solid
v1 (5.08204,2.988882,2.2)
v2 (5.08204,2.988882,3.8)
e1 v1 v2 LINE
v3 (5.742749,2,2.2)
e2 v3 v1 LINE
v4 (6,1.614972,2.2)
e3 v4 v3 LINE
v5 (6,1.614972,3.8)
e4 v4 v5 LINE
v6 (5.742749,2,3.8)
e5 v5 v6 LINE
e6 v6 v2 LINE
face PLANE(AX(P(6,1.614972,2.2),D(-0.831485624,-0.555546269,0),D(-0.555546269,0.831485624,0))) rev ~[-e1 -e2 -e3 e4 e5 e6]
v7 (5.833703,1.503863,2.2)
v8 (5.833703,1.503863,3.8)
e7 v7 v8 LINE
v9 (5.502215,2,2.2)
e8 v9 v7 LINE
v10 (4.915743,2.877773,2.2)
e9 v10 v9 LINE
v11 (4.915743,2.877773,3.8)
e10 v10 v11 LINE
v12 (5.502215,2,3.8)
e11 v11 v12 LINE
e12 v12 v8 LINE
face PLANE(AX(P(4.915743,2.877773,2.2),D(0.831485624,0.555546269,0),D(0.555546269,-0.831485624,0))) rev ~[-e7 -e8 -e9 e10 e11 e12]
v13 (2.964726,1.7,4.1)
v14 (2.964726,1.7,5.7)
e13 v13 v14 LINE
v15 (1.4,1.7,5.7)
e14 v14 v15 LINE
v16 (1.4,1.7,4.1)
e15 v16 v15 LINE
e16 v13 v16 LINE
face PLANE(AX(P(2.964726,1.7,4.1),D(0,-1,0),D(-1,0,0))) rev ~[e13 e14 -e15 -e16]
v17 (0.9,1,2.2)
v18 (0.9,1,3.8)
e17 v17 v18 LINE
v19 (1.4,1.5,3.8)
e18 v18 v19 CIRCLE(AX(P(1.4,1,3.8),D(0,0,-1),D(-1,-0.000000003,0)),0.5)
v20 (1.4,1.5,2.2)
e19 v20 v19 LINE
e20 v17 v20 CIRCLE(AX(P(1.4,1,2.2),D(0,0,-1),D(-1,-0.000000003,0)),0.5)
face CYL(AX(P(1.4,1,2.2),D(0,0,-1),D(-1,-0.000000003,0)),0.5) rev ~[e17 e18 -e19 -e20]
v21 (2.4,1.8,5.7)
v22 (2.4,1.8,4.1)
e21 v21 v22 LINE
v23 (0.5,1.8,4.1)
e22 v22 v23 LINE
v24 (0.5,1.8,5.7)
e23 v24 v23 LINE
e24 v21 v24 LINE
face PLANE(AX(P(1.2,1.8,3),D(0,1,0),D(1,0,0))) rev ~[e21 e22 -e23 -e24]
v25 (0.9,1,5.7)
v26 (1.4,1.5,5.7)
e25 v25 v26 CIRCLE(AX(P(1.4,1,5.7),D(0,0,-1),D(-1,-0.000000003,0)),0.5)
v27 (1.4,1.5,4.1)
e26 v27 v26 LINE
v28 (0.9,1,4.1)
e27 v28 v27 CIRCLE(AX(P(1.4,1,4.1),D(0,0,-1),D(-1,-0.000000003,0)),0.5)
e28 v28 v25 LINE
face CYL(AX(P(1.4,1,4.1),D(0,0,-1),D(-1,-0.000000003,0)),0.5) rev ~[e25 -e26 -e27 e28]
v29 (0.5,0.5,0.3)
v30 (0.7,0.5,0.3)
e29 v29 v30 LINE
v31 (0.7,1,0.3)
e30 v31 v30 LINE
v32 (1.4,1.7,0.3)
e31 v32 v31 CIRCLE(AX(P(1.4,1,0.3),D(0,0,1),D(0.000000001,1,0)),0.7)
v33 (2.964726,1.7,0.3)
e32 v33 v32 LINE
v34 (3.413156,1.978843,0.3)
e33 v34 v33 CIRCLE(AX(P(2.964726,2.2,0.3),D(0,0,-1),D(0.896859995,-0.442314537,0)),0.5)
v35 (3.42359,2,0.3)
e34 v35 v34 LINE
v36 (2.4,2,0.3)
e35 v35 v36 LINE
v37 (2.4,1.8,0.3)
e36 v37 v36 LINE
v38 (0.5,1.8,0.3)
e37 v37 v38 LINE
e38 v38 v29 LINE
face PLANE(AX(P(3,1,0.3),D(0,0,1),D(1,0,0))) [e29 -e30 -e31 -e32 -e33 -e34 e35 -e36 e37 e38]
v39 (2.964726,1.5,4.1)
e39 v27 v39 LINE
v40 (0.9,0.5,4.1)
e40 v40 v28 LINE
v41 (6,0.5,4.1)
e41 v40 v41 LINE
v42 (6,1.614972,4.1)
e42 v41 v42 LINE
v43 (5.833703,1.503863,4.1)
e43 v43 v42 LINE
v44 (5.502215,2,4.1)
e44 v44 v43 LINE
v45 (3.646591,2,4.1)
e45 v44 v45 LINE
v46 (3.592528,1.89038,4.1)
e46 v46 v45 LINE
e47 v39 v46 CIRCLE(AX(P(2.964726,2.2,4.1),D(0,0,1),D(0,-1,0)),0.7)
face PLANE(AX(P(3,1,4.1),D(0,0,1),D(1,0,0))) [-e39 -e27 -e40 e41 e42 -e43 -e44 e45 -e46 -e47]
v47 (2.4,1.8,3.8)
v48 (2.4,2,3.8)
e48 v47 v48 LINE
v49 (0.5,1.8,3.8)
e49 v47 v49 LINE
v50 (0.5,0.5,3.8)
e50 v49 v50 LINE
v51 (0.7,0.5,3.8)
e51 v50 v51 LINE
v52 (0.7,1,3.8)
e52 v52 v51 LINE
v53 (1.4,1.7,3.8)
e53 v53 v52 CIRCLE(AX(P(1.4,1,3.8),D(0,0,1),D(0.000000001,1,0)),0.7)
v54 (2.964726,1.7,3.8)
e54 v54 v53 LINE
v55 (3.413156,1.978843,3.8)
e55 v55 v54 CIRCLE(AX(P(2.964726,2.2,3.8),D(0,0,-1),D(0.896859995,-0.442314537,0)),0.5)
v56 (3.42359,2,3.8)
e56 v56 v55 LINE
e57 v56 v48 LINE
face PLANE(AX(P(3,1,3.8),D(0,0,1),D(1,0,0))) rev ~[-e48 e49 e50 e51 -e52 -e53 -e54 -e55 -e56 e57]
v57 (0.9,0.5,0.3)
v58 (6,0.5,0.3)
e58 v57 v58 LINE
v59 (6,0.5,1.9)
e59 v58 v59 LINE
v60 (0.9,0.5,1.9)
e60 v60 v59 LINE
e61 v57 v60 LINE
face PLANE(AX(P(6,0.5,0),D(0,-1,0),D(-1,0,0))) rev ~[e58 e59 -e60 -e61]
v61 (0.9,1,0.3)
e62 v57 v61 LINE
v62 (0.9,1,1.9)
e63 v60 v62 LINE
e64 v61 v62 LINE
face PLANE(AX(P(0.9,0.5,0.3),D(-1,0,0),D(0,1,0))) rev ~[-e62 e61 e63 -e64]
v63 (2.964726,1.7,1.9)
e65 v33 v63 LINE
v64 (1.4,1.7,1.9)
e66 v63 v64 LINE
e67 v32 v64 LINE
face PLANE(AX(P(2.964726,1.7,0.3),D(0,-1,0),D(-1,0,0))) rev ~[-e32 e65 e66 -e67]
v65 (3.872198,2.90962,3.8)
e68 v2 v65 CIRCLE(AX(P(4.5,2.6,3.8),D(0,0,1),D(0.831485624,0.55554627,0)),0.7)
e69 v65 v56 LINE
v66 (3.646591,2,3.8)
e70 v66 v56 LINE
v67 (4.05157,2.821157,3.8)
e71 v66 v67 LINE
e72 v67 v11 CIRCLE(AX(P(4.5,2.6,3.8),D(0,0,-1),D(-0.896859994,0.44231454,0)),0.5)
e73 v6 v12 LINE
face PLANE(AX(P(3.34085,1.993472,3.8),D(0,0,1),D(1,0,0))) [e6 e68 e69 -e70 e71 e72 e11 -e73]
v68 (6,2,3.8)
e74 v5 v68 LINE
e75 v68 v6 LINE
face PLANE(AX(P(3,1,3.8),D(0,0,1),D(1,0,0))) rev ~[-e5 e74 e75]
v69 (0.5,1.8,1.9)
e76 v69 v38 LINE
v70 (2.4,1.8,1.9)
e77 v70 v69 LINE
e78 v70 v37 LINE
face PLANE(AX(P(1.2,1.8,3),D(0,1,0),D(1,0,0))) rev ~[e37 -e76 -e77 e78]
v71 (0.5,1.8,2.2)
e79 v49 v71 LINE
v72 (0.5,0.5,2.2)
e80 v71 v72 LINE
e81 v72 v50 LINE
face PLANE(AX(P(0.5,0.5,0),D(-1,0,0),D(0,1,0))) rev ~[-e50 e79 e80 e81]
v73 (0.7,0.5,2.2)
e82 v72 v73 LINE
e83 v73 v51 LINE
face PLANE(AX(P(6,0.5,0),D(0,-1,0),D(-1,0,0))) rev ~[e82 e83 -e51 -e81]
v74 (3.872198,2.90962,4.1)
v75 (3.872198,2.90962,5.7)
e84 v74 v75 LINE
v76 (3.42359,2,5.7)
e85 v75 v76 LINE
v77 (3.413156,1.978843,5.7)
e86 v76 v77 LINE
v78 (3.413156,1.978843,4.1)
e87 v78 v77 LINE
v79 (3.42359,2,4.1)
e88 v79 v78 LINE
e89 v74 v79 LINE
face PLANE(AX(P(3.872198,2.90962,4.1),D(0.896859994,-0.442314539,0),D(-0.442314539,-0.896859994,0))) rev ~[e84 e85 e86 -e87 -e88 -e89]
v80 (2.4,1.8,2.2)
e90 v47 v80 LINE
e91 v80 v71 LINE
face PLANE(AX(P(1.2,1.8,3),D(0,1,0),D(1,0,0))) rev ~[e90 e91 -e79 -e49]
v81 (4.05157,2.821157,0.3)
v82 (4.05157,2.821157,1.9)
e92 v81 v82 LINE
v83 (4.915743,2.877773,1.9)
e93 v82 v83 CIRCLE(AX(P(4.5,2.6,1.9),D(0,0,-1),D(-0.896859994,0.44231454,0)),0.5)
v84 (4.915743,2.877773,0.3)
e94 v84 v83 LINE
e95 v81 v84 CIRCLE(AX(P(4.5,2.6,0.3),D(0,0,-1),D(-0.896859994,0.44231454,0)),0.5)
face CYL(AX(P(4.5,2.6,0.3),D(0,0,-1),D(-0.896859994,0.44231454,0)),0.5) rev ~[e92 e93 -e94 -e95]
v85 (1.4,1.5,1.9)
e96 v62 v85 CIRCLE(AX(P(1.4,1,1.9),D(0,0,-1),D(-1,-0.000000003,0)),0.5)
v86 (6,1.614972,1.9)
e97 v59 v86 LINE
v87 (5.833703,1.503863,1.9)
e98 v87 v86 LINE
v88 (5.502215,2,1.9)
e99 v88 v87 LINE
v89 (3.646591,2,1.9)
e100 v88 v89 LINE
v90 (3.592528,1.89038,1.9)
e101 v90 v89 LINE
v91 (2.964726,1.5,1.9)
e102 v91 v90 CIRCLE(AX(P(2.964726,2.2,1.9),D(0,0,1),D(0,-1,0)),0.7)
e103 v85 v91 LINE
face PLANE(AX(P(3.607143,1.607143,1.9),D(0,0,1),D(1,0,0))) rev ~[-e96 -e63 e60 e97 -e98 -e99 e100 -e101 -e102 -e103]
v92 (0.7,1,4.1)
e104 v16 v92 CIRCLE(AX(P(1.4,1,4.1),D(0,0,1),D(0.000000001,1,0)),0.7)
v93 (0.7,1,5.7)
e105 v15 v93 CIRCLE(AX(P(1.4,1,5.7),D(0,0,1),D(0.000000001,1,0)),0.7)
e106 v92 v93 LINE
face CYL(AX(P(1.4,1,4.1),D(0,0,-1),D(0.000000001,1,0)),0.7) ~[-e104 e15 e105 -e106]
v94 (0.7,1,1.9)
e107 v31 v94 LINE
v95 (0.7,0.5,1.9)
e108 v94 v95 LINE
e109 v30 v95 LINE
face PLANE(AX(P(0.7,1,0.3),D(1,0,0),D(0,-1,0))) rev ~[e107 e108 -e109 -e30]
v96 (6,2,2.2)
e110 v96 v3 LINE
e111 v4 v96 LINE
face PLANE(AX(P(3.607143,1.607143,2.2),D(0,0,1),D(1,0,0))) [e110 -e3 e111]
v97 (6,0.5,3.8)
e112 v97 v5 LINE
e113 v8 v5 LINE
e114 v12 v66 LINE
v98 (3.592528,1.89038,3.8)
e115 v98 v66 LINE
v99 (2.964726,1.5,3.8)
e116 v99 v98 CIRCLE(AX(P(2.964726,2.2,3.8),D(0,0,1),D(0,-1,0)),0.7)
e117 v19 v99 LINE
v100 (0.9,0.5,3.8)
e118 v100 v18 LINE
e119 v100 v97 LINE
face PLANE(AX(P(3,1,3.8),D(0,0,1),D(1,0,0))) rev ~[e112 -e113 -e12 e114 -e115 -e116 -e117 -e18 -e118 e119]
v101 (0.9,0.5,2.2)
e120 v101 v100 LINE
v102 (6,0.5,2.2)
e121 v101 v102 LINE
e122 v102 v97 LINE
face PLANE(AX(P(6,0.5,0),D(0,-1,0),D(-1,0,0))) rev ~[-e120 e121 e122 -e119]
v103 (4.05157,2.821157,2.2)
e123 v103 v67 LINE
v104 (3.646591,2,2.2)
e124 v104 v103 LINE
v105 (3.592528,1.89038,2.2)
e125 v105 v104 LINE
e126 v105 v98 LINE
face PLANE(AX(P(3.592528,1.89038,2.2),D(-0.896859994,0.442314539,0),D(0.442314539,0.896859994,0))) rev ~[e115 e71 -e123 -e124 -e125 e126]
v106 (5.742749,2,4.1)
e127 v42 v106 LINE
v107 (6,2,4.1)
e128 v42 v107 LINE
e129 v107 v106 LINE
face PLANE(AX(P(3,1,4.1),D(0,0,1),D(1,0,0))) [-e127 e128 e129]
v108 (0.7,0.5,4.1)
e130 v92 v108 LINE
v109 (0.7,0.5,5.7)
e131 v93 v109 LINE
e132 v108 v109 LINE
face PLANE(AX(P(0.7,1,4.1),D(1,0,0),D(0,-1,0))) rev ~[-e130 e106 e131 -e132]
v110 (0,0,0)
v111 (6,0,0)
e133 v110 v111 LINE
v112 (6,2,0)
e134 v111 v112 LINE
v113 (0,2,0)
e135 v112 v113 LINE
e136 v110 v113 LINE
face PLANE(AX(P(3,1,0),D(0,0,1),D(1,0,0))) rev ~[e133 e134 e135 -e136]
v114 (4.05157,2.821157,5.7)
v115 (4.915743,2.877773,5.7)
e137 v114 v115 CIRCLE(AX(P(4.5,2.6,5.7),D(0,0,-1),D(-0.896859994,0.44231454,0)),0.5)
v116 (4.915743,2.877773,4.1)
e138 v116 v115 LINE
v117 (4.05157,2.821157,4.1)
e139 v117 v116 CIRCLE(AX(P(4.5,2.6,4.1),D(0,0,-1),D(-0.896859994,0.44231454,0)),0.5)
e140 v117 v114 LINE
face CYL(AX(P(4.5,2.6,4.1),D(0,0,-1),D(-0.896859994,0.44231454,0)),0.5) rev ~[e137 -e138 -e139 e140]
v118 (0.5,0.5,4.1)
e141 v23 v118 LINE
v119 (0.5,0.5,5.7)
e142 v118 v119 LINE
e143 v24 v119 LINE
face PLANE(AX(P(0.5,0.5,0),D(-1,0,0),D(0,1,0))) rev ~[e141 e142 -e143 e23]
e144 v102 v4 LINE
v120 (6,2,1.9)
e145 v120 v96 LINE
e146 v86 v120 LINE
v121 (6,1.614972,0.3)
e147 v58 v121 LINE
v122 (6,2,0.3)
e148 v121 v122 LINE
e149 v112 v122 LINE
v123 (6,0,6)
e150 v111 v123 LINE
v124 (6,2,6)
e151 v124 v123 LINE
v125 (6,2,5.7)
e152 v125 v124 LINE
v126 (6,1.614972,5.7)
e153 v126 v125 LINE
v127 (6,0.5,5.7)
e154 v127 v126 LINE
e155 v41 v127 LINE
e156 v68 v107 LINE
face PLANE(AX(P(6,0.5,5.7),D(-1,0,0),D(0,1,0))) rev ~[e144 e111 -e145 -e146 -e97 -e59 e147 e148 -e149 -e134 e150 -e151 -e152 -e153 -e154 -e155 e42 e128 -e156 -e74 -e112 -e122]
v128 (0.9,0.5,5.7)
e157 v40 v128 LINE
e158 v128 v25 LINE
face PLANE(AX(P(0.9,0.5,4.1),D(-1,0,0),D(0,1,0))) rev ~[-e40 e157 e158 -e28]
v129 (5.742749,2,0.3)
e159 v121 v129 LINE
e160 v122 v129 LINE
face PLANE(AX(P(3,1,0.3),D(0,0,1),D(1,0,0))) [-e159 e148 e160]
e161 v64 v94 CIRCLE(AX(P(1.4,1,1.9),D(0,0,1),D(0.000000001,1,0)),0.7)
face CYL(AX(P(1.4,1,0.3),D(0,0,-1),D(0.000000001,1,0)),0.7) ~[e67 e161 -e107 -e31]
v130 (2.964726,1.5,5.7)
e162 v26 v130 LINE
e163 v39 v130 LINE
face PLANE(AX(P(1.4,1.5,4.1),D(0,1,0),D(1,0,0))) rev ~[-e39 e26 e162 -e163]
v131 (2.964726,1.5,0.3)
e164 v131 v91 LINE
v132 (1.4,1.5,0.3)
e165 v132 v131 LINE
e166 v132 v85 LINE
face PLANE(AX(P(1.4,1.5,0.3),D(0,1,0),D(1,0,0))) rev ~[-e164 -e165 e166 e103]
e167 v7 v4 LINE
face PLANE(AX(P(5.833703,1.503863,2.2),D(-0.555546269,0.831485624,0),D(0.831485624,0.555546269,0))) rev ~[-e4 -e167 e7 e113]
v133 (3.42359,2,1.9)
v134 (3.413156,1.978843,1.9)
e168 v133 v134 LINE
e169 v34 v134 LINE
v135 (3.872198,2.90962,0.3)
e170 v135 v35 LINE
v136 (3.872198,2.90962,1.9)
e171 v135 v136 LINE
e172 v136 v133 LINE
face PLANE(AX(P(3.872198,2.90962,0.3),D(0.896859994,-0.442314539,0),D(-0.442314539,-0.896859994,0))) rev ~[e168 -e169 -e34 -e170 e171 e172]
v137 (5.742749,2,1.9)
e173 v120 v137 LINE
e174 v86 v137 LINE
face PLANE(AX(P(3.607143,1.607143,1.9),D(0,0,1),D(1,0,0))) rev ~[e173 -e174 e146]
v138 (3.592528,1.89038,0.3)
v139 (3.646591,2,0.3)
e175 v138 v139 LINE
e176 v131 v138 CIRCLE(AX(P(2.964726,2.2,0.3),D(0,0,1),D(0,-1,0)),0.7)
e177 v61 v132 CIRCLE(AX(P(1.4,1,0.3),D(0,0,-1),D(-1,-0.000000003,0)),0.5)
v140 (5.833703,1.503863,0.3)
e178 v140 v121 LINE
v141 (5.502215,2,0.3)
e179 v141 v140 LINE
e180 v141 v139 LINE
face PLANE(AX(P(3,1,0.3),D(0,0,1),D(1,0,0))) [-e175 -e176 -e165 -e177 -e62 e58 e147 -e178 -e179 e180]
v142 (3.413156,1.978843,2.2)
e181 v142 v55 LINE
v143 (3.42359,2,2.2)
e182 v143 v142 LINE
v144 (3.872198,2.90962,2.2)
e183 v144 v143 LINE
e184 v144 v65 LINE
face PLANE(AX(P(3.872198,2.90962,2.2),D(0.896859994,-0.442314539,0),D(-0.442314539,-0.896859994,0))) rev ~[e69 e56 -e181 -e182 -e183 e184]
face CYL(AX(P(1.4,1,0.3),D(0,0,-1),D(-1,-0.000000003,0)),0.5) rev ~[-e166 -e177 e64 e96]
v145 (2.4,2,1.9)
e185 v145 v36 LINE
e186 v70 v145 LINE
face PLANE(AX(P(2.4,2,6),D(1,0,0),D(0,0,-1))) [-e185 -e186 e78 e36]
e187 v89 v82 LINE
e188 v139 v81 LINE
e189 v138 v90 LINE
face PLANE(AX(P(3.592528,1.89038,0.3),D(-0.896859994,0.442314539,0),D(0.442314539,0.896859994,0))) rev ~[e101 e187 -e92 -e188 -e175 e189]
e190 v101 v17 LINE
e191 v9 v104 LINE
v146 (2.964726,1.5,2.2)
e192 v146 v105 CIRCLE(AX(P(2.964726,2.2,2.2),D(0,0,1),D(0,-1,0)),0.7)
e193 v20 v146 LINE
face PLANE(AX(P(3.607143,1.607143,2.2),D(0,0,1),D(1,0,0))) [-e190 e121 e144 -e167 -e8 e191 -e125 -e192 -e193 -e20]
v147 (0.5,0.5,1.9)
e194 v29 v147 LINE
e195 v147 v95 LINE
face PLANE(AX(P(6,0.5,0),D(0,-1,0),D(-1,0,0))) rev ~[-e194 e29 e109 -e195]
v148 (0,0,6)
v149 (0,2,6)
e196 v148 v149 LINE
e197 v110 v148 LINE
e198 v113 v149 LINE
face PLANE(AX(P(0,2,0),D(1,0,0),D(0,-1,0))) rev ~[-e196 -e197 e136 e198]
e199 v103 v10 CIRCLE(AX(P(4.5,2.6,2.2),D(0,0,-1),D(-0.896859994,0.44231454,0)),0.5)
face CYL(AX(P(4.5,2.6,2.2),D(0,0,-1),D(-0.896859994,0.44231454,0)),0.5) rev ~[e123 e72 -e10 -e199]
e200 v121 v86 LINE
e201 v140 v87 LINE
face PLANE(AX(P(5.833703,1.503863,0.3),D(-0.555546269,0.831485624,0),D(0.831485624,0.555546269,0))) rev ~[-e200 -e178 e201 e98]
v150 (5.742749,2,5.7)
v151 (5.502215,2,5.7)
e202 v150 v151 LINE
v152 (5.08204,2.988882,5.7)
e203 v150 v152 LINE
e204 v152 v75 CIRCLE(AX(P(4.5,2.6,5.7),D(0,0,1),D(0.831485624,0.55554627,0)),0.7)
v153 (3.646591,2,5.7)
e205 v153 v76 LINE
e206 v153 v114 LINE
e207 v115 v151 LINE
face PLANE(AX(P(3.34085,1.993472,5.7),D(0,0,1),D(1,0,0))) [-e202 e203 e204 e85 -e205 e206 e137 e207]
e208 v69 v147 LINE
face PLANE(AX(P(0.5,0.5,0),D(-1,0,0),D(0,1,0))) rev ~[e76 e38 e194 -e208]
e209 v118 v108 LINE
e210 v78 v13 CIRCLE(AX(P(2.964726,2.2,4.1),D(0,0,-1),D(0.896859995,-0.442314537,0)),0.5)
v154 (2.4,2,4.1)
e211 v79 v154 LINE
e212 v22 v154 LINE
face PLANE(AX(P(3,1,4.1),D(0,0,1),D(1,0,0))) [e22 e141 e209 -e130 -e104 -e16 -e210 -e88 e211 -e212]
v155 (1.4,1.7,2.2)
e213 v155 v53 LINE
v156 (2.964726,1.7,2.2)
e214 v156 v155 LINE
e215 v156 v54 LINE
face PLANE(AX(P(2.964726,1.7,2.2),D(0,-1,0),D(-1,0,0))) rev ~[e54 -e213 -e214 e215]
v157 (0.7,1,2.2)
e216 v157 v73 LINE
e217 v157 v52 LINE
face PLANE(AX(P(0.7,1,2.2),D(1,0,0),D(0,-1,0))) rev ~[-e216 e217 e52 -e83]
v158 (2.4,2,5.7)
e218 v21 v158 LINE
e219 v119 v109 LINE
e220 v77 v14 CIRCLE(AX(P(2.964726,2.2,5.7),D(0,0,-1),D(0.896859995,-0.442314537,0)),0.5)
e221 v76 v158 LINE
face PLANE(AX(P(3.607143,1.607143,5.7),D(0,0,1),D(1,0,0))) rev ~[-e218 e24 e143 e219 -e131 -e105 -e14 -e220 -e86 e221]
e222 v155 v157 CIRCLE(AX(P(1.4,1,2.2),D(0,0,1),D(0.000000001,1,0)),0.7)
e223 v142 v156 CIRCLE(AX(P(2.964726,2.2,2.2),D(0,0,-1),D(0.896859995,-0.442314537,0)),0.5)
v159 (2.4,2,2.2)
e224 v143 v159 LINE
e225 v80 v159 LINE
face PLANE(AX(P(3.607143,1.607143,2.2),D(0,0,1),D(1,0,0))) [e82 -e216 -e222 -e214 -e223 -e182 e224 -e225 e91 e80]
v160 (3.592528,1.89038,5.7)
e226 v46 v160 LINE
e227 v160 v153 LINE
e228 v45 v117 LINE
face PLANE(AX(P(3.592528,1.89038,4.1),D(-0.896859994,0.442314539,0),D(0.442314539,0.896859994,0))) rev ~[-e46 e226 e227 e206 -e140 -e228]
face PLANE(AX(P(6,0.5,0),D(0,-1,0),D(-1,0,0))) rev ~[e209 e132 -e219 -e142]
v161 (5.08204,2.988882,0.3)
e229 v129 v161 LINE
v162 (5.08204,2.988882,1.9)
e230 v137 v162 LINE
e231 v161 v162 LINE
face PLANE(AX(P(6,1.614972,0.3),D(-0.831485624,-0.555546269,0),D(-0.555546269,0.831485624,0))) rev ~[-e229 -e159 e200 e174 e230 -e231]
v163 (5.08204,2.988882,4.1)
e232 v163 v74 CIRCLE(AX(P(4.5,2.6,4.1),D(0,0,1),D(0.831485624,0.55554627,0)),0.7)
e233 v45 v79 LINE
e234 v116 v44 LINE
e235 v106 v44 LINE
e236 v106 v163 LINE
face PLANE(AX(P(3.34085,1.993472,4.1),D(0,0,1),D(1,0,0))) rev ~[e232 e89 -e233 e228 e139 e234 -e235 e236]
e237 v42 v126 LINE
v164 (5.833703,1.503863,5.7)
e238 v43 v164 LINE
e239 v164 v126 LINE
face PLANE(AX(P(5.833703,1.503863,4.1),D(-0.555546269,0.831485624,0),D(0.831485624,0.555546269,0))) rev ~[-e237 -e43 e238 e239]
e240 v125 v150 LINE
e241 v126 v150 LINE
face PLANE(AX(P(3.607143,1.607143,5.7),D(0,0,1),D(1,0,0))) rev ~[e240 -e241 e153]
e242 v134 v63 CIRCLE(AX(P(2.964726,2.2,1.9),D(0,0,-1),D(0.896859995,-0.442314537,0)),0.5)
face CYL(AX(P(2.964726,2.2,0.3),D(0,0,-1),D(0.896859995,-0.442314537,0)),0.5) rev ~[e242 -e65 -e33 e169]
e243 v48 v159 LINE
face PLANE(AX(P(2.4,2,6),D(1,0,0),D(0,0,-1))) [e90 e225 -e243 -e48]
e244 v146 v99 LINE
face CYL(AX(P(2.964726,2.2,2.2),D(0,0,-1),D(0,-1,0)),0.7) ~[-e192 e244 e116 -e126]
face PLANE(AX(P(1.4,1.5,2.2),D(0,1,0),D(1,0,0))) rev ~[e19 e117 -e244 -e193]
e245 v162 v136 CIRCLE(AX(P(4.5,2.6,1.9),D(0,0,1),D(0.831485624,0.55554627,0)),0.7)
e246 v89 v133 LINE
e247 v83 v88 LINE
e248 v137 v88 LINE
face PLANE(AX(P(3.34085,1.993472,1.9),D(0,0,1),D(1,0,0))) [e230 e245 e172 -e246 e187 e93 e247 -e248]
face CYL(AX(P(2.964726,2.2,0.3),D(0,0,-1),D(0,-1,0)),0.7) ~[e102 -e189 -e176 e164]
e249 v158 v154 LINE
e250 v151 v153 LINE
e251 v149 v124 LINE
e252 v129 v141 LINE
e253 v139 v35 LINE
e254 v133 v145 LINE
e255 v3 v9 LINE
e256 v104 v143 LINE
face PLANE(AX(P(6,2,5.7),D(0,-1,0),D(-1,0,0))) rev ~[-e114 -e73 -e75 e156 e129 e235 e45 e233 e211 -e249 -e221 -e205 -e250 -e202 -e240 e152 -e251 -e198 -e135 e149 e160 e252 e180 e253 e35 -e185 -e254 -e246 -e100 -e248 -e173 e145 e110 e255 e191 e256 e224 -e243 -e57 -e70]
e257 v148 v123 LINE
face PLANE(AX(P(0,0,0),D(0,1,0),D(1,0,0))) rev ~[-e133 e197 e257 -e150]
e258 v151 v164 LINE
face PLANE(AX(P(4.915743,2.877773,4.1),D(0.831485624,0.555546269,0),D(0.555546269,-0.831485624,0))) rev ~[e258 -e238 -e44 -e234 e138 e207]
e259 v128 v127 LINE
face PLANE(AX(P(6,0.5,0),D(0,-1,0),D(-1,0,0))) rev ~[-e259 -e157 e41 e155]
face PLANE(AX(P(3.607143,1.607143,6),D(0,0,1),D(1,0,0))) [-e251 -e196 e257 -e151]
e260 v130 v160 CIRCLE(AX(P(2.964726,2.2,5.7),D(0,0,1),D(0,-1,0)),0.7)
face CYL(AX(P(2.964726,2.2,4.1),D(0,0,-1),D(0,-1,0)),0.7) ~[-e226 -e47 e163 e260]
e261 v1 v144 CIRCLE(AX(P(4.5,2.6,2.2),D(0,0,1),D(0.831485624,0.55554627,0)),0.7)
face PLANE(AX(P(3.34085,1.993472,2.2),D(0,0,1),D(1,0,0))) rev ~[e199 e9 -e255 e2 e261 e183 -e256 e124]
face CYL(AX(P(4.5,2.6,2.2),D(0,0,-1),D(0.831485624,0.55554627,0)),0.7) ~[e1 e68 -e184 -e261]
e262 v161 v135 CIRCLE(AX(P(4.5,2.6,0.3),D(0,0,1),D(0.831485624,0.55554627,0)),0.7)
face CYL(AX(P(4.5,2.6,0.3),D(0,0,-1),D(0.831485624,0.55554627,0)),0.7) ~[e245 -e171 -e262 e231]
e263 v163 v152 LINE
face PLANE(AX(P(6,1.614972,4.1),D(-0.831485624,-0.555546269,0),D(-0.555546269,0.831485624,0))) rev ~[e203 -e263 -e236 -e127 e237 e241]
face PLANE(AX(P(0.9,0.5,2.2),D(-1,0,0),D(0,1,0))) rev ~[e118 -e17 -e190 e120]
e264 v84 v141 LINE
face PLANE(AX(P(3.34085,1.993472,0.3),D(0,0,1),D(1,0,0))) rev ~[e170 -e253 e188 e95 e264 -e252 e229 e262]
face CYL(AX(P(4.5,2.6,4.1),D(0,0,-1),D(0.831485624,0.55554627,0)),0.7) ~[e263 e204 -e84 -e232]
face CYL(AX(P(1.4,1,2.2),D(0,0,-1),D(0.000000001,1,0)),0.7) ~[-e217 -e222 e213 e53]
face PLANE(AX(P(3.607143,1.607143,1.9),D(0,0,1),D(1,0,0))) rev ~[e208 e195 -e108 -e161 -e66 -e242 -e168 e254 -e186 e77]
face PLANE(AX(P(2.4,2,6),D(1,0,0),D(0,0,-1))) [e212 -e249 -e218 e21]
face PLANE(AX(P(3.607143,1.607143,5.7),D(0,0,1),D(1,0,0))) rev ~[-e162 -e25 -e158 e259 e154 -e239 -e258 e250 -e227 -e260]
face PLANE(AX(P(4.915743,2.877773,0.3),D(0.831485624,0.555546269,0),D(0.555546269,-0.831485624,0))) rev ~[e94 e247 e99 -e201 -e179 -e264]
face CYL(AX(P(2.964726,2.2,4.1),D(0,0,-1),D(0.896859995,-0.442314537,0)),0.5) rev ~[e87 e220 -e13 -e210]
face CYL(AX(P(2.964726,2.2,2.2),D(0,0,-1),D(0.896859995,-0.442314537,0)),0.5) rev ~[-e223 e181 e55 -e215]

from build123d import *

# Parameters (mm, degrees)
BOSS_EXTRUDE1_DEPTH = 6
BOSS_EXTRUDE2_START = 0.3
BOSS_EXTRUDE2_DEPTH = 1.6
SKETCH1_3_W         = 5
SKETCH1_3_H         = 1
BOSS_EXTRUDE3_DEPTH = 0.3
BOSS_EXTRUDE4_START = 1.9
SKETCH1_5_W         = 5
SKETCH1_5_H         = 1
BOSS_EXTRUDE4_DEPTH = 0.3
BOSS_EXTRUDE5_START = 2.2
BOSS_EXTRUDE5_DEPTH = 1.6
BOSS_EXTRUDE6_START = 3.8
SKETCH1_6_W         = 5
SKETCH1_6_H         = 1
BOSS_EXTRUDE6_DEPTH = 0.3
BOSS_EXTRUDE7_START = 4.1
BOSS_EXTRUDE7_DEPTH = 1.6
BOSS_EXTRUDE8_START = 5.7
SKETCH1_7_W         = 5
SKETCH1_7_H         = 1
BOSS_EXTRUDE8_DEPTH = 0.3
SKETCH3_W           = 2.4
SKETCH3_H           = 6
BOSS_EXTRUDE9_DEPTH = 0.2


with BuildPart() as part:
    # Sketch1 → Boss-Extrude1 (new body)
    with BuildSketch(Plane.XY):
        Polygon((5.5, 0.5), (0.5, 0.5), (0.5, 1.5), (0.5, 2), (0, 2), (0, 0), (6, 0), (6, 0.5), align=None)
    extrude(amount=BOSS_EXTRUDE1_DEPTH)

    # Sketch2 → Boss-Extrude2 (add)
    with BuildSketch(Plane.XY.offset(BOSS_EXTRUDE2_START)):
        with BuildLine():
            Line((5.833702875, 1.503863094), (6, 1.614972348))
            Line((6, 1.614972348), (5.082039937, 2.988882388))
            ThreePointArc((5.082039937, 2.988882388), (4.454237941, 3.298502565), (3.872198004, 2.909620177))
            Line((3.872198004, 2.909620177), (3.413156013, 1.97884273))
            ThreePointArc((3.413156013, 1.97884273), (3.228753823, 1.775395104), (2.964726016, 1.7))
            Line((2.964726016, 1.7), (1.4, 1.7))
            ThreePointArc((1.4, 1.7), (0.905025253, 1.494974747), (0.7, 1))
            Line((0.7, 1), (0.7, 0.5))
            Line((0.7, 0.5), (0.9, 0.5))
            Line((0.9, 0.5), (0.9, 1))
            ThreePointArc((0.9, 1), (1.046446609, 1.353553391), (1.4, 1.5))
            Line((1.4, 1.5), (2.964726016, 1.5))
            ThreePointArc((2.964726016, 1.5), (3.334364945, 1.605553146), (3.592528012, 1.890379823))
            Line((3.592528012, 1.890379823), (4.051570003, 2.82115727))
            ThreePointArc((4.051570003, 2.82115727), (4.467312815, 3.098930404), (4.915742812, 2.877773134))
            Line((4.915742812, 2.877773134), (5.833702875, 1.503863094))
        make_face()
    extrude(amount=BOSS_EXTRUDE2_DEPTH)

    # Sketch1<3> → Boss-Extrude3 (add)
    with BuildSketch(Plane.XY):
        with Locations((3, 1)):
            Rectangle(SKETCH1_3_W, SKETCH1_3_H)
        Polygon((0.5, 2), (0.5, 1.5), (5.5, 1.5), (5.5, 0.5), (6, 0.5), (6, 2), align=None)
    extrude(amount=BOSS_EXTRUDE3_DEPTH)

    # Sketch1<5> → Boss-Extrude4 (add)
    with BuildSketch(Plane.XY.offset(BOSS_EXTRUDE4_START)):
        Polygon((0.5, 2), (0.5, 1.5), (5.5, 1.5), (5.5, 0.5), (6, 0.5), (6, 2), align=None)
        with Locations((3, 1)):
            Rectangle(SKETCH1_5_W, SKETCH1_5_H)
    extrude(amount=BOSS_EXTRUDE4_DEPTH)

    # Sketch2<3> → Boss-Extrude5 (add)
    with BuildSketch(Plane.XY.offset(BOSS_EXTRUDE5_START)):
        with BuildLine():
            Line((5.833702875, 1.503863094), (6, 1.614972348))
            Line((6, 1.614972348), (5.082039937, 2.988882388))
            ThreePointArc((5.082039937, 2.988882388), (4.454237941, 3.298502565), (3.872198004, 2.909620177))
            Line((3.872198004, 2.909620177), (3.413156013, 1.97884273))
            ThreePointArc((3.413156013, 1.97884273), (3.228753823, 1.775395104), (2.964726016, 1.7))
            Line((2.964726016, 1.7), (1.4, 1.7))
            ThreePointArc((1.4, 1.7), (0.905025253, 1.494974747), (0.7, 1))
            Line((0.7, 1), (0.7, 0.5))
            Line((0.7, 0.5), (0.9, 0.5))
            Line((0.9, 0.5), (0.9, 1))
            ThreePointArc((0.9, 1), (1.046446609, 1.353553391), (1.4, 1.5))
            Line((1.4, 1.5), (2.964726016, 1.5))
            ThreePointArc((2.964726016, 1.5), (3.334364945, 1.605553146), (3.592528012, 1.890379823))
            Line((3.592528012, 1.890379823), (4.051570003, 2.82115727))
            ThreePointArc((4.051570003, 2.82115727), (4.467312815, 3.098930404), (4.915742812, 2.877773134))
            Line((4.915742812, 2.877773134), (5.833702875, 1.503863094))
        make_face()
    extrude(amount=BOSS_EXTRUDE5_DEPTH)

    # Sketch1<6> → Boss-Extrude6 (add)
    with BuildSketch(Plane.XY.offset(BOSS_EXTRUDE6_START)):
        with Locations((3, 1)):
            Rectangle(SKETCH1_6_W, SKETCH1_6_H)
        Polygon((0.5, 2), (0.5, 1.5), (5.5, 1.5), (5.5, 0.5), (6, 0.5), (6, 2), align=None)
    extrude(amount=BOSS_EXTRUDE6_DEPTH)

    # Sketch2<4> → Boss-Extrude7 (add)
    with BuildSketch(Plane.XY.offset(BOSS_EXTRUDE7_START)):
        with BuildLine():
            Line((5.833702875, 1.503863094), (6, 1.614972348))
            Line((6, 1.614972348), (5.082039937, 2.988882388))
            ThreePointArc((5.082039937, 2.988882388), (4.454237941, 3.298502565), (3.872198004, 2.909620177))
            Line((3.872198004, 2.909620177), (3.413156013, 1.97884273))
            ThreePointArc((3.413156013, 1.97884273), (3.228753823, 1.775395104), (2.964726016, 1.7))
            Line((2.964726016, 1.7), (1.4, 1.7))
            ThreePointArc((1.4, 1.7), (0.905025253, 1.494974747), (0.7, 1))
            Line((0.7, 1), (0.7, 0.5))
            Line((0.7, 0.5), (0.9, 0.5))
            Line((0.9, 0.5), (0.9, 1))
            ThreePointArc((0.9, 1), (1.046446609, 1.353553391), (1.4, 1.5))
            Line((1.4, 1.5), (2.964726016, 1.5))
            ThreePointArc((2.964726016, 1.5), (3.334364945, 1.605553146), (3.592528012, 1.890379823))
            Line((3.592528012, 1.890379823), (4.051570003, 2.82115727))
            ThreePointArc((4.051570003, 2.82115727), (4.467312815, 3.098930404), (4.915742812, 2.877773134))
            Line((4.915742812, 2.877773134), (5.833702875, 1.503863094))
        make_face()
    extrude(amount=BOSS_EXTRUDE7_DEPTH)

    # Sketch1<7> → Boss-Extrude8 (add)
    with BuildSketch(Plane.XY.offset(BOSS_EXTRUDE8_START)):
        Polygon((0.5, 2), (0.5, 1.5), (5.5, 1.5), (5.5, 0.5), (6, 0.5), (6, 2), align=None)
        with Locations((3, 1)):
            Rectangle(SKETCH1_7_W, SKETCH1_7_H)
    extrude(amount=BOSS_EXTRUDE8_DEPTH)

    # Sketch3 → Boss-Extrude9 (add)
    with BuildSketch(Plane(origin=(0, 2, 0), x_dir=(1, 0, 0), z_dir=(0, 1, 0))):
        with Locations((1.2, -3)):
            Rectangle(SKETCH3_W, SKETCH3_H)
    extrude(amount=-BOSS_EXTRUDE9_DEPTH)


solid = part.part
